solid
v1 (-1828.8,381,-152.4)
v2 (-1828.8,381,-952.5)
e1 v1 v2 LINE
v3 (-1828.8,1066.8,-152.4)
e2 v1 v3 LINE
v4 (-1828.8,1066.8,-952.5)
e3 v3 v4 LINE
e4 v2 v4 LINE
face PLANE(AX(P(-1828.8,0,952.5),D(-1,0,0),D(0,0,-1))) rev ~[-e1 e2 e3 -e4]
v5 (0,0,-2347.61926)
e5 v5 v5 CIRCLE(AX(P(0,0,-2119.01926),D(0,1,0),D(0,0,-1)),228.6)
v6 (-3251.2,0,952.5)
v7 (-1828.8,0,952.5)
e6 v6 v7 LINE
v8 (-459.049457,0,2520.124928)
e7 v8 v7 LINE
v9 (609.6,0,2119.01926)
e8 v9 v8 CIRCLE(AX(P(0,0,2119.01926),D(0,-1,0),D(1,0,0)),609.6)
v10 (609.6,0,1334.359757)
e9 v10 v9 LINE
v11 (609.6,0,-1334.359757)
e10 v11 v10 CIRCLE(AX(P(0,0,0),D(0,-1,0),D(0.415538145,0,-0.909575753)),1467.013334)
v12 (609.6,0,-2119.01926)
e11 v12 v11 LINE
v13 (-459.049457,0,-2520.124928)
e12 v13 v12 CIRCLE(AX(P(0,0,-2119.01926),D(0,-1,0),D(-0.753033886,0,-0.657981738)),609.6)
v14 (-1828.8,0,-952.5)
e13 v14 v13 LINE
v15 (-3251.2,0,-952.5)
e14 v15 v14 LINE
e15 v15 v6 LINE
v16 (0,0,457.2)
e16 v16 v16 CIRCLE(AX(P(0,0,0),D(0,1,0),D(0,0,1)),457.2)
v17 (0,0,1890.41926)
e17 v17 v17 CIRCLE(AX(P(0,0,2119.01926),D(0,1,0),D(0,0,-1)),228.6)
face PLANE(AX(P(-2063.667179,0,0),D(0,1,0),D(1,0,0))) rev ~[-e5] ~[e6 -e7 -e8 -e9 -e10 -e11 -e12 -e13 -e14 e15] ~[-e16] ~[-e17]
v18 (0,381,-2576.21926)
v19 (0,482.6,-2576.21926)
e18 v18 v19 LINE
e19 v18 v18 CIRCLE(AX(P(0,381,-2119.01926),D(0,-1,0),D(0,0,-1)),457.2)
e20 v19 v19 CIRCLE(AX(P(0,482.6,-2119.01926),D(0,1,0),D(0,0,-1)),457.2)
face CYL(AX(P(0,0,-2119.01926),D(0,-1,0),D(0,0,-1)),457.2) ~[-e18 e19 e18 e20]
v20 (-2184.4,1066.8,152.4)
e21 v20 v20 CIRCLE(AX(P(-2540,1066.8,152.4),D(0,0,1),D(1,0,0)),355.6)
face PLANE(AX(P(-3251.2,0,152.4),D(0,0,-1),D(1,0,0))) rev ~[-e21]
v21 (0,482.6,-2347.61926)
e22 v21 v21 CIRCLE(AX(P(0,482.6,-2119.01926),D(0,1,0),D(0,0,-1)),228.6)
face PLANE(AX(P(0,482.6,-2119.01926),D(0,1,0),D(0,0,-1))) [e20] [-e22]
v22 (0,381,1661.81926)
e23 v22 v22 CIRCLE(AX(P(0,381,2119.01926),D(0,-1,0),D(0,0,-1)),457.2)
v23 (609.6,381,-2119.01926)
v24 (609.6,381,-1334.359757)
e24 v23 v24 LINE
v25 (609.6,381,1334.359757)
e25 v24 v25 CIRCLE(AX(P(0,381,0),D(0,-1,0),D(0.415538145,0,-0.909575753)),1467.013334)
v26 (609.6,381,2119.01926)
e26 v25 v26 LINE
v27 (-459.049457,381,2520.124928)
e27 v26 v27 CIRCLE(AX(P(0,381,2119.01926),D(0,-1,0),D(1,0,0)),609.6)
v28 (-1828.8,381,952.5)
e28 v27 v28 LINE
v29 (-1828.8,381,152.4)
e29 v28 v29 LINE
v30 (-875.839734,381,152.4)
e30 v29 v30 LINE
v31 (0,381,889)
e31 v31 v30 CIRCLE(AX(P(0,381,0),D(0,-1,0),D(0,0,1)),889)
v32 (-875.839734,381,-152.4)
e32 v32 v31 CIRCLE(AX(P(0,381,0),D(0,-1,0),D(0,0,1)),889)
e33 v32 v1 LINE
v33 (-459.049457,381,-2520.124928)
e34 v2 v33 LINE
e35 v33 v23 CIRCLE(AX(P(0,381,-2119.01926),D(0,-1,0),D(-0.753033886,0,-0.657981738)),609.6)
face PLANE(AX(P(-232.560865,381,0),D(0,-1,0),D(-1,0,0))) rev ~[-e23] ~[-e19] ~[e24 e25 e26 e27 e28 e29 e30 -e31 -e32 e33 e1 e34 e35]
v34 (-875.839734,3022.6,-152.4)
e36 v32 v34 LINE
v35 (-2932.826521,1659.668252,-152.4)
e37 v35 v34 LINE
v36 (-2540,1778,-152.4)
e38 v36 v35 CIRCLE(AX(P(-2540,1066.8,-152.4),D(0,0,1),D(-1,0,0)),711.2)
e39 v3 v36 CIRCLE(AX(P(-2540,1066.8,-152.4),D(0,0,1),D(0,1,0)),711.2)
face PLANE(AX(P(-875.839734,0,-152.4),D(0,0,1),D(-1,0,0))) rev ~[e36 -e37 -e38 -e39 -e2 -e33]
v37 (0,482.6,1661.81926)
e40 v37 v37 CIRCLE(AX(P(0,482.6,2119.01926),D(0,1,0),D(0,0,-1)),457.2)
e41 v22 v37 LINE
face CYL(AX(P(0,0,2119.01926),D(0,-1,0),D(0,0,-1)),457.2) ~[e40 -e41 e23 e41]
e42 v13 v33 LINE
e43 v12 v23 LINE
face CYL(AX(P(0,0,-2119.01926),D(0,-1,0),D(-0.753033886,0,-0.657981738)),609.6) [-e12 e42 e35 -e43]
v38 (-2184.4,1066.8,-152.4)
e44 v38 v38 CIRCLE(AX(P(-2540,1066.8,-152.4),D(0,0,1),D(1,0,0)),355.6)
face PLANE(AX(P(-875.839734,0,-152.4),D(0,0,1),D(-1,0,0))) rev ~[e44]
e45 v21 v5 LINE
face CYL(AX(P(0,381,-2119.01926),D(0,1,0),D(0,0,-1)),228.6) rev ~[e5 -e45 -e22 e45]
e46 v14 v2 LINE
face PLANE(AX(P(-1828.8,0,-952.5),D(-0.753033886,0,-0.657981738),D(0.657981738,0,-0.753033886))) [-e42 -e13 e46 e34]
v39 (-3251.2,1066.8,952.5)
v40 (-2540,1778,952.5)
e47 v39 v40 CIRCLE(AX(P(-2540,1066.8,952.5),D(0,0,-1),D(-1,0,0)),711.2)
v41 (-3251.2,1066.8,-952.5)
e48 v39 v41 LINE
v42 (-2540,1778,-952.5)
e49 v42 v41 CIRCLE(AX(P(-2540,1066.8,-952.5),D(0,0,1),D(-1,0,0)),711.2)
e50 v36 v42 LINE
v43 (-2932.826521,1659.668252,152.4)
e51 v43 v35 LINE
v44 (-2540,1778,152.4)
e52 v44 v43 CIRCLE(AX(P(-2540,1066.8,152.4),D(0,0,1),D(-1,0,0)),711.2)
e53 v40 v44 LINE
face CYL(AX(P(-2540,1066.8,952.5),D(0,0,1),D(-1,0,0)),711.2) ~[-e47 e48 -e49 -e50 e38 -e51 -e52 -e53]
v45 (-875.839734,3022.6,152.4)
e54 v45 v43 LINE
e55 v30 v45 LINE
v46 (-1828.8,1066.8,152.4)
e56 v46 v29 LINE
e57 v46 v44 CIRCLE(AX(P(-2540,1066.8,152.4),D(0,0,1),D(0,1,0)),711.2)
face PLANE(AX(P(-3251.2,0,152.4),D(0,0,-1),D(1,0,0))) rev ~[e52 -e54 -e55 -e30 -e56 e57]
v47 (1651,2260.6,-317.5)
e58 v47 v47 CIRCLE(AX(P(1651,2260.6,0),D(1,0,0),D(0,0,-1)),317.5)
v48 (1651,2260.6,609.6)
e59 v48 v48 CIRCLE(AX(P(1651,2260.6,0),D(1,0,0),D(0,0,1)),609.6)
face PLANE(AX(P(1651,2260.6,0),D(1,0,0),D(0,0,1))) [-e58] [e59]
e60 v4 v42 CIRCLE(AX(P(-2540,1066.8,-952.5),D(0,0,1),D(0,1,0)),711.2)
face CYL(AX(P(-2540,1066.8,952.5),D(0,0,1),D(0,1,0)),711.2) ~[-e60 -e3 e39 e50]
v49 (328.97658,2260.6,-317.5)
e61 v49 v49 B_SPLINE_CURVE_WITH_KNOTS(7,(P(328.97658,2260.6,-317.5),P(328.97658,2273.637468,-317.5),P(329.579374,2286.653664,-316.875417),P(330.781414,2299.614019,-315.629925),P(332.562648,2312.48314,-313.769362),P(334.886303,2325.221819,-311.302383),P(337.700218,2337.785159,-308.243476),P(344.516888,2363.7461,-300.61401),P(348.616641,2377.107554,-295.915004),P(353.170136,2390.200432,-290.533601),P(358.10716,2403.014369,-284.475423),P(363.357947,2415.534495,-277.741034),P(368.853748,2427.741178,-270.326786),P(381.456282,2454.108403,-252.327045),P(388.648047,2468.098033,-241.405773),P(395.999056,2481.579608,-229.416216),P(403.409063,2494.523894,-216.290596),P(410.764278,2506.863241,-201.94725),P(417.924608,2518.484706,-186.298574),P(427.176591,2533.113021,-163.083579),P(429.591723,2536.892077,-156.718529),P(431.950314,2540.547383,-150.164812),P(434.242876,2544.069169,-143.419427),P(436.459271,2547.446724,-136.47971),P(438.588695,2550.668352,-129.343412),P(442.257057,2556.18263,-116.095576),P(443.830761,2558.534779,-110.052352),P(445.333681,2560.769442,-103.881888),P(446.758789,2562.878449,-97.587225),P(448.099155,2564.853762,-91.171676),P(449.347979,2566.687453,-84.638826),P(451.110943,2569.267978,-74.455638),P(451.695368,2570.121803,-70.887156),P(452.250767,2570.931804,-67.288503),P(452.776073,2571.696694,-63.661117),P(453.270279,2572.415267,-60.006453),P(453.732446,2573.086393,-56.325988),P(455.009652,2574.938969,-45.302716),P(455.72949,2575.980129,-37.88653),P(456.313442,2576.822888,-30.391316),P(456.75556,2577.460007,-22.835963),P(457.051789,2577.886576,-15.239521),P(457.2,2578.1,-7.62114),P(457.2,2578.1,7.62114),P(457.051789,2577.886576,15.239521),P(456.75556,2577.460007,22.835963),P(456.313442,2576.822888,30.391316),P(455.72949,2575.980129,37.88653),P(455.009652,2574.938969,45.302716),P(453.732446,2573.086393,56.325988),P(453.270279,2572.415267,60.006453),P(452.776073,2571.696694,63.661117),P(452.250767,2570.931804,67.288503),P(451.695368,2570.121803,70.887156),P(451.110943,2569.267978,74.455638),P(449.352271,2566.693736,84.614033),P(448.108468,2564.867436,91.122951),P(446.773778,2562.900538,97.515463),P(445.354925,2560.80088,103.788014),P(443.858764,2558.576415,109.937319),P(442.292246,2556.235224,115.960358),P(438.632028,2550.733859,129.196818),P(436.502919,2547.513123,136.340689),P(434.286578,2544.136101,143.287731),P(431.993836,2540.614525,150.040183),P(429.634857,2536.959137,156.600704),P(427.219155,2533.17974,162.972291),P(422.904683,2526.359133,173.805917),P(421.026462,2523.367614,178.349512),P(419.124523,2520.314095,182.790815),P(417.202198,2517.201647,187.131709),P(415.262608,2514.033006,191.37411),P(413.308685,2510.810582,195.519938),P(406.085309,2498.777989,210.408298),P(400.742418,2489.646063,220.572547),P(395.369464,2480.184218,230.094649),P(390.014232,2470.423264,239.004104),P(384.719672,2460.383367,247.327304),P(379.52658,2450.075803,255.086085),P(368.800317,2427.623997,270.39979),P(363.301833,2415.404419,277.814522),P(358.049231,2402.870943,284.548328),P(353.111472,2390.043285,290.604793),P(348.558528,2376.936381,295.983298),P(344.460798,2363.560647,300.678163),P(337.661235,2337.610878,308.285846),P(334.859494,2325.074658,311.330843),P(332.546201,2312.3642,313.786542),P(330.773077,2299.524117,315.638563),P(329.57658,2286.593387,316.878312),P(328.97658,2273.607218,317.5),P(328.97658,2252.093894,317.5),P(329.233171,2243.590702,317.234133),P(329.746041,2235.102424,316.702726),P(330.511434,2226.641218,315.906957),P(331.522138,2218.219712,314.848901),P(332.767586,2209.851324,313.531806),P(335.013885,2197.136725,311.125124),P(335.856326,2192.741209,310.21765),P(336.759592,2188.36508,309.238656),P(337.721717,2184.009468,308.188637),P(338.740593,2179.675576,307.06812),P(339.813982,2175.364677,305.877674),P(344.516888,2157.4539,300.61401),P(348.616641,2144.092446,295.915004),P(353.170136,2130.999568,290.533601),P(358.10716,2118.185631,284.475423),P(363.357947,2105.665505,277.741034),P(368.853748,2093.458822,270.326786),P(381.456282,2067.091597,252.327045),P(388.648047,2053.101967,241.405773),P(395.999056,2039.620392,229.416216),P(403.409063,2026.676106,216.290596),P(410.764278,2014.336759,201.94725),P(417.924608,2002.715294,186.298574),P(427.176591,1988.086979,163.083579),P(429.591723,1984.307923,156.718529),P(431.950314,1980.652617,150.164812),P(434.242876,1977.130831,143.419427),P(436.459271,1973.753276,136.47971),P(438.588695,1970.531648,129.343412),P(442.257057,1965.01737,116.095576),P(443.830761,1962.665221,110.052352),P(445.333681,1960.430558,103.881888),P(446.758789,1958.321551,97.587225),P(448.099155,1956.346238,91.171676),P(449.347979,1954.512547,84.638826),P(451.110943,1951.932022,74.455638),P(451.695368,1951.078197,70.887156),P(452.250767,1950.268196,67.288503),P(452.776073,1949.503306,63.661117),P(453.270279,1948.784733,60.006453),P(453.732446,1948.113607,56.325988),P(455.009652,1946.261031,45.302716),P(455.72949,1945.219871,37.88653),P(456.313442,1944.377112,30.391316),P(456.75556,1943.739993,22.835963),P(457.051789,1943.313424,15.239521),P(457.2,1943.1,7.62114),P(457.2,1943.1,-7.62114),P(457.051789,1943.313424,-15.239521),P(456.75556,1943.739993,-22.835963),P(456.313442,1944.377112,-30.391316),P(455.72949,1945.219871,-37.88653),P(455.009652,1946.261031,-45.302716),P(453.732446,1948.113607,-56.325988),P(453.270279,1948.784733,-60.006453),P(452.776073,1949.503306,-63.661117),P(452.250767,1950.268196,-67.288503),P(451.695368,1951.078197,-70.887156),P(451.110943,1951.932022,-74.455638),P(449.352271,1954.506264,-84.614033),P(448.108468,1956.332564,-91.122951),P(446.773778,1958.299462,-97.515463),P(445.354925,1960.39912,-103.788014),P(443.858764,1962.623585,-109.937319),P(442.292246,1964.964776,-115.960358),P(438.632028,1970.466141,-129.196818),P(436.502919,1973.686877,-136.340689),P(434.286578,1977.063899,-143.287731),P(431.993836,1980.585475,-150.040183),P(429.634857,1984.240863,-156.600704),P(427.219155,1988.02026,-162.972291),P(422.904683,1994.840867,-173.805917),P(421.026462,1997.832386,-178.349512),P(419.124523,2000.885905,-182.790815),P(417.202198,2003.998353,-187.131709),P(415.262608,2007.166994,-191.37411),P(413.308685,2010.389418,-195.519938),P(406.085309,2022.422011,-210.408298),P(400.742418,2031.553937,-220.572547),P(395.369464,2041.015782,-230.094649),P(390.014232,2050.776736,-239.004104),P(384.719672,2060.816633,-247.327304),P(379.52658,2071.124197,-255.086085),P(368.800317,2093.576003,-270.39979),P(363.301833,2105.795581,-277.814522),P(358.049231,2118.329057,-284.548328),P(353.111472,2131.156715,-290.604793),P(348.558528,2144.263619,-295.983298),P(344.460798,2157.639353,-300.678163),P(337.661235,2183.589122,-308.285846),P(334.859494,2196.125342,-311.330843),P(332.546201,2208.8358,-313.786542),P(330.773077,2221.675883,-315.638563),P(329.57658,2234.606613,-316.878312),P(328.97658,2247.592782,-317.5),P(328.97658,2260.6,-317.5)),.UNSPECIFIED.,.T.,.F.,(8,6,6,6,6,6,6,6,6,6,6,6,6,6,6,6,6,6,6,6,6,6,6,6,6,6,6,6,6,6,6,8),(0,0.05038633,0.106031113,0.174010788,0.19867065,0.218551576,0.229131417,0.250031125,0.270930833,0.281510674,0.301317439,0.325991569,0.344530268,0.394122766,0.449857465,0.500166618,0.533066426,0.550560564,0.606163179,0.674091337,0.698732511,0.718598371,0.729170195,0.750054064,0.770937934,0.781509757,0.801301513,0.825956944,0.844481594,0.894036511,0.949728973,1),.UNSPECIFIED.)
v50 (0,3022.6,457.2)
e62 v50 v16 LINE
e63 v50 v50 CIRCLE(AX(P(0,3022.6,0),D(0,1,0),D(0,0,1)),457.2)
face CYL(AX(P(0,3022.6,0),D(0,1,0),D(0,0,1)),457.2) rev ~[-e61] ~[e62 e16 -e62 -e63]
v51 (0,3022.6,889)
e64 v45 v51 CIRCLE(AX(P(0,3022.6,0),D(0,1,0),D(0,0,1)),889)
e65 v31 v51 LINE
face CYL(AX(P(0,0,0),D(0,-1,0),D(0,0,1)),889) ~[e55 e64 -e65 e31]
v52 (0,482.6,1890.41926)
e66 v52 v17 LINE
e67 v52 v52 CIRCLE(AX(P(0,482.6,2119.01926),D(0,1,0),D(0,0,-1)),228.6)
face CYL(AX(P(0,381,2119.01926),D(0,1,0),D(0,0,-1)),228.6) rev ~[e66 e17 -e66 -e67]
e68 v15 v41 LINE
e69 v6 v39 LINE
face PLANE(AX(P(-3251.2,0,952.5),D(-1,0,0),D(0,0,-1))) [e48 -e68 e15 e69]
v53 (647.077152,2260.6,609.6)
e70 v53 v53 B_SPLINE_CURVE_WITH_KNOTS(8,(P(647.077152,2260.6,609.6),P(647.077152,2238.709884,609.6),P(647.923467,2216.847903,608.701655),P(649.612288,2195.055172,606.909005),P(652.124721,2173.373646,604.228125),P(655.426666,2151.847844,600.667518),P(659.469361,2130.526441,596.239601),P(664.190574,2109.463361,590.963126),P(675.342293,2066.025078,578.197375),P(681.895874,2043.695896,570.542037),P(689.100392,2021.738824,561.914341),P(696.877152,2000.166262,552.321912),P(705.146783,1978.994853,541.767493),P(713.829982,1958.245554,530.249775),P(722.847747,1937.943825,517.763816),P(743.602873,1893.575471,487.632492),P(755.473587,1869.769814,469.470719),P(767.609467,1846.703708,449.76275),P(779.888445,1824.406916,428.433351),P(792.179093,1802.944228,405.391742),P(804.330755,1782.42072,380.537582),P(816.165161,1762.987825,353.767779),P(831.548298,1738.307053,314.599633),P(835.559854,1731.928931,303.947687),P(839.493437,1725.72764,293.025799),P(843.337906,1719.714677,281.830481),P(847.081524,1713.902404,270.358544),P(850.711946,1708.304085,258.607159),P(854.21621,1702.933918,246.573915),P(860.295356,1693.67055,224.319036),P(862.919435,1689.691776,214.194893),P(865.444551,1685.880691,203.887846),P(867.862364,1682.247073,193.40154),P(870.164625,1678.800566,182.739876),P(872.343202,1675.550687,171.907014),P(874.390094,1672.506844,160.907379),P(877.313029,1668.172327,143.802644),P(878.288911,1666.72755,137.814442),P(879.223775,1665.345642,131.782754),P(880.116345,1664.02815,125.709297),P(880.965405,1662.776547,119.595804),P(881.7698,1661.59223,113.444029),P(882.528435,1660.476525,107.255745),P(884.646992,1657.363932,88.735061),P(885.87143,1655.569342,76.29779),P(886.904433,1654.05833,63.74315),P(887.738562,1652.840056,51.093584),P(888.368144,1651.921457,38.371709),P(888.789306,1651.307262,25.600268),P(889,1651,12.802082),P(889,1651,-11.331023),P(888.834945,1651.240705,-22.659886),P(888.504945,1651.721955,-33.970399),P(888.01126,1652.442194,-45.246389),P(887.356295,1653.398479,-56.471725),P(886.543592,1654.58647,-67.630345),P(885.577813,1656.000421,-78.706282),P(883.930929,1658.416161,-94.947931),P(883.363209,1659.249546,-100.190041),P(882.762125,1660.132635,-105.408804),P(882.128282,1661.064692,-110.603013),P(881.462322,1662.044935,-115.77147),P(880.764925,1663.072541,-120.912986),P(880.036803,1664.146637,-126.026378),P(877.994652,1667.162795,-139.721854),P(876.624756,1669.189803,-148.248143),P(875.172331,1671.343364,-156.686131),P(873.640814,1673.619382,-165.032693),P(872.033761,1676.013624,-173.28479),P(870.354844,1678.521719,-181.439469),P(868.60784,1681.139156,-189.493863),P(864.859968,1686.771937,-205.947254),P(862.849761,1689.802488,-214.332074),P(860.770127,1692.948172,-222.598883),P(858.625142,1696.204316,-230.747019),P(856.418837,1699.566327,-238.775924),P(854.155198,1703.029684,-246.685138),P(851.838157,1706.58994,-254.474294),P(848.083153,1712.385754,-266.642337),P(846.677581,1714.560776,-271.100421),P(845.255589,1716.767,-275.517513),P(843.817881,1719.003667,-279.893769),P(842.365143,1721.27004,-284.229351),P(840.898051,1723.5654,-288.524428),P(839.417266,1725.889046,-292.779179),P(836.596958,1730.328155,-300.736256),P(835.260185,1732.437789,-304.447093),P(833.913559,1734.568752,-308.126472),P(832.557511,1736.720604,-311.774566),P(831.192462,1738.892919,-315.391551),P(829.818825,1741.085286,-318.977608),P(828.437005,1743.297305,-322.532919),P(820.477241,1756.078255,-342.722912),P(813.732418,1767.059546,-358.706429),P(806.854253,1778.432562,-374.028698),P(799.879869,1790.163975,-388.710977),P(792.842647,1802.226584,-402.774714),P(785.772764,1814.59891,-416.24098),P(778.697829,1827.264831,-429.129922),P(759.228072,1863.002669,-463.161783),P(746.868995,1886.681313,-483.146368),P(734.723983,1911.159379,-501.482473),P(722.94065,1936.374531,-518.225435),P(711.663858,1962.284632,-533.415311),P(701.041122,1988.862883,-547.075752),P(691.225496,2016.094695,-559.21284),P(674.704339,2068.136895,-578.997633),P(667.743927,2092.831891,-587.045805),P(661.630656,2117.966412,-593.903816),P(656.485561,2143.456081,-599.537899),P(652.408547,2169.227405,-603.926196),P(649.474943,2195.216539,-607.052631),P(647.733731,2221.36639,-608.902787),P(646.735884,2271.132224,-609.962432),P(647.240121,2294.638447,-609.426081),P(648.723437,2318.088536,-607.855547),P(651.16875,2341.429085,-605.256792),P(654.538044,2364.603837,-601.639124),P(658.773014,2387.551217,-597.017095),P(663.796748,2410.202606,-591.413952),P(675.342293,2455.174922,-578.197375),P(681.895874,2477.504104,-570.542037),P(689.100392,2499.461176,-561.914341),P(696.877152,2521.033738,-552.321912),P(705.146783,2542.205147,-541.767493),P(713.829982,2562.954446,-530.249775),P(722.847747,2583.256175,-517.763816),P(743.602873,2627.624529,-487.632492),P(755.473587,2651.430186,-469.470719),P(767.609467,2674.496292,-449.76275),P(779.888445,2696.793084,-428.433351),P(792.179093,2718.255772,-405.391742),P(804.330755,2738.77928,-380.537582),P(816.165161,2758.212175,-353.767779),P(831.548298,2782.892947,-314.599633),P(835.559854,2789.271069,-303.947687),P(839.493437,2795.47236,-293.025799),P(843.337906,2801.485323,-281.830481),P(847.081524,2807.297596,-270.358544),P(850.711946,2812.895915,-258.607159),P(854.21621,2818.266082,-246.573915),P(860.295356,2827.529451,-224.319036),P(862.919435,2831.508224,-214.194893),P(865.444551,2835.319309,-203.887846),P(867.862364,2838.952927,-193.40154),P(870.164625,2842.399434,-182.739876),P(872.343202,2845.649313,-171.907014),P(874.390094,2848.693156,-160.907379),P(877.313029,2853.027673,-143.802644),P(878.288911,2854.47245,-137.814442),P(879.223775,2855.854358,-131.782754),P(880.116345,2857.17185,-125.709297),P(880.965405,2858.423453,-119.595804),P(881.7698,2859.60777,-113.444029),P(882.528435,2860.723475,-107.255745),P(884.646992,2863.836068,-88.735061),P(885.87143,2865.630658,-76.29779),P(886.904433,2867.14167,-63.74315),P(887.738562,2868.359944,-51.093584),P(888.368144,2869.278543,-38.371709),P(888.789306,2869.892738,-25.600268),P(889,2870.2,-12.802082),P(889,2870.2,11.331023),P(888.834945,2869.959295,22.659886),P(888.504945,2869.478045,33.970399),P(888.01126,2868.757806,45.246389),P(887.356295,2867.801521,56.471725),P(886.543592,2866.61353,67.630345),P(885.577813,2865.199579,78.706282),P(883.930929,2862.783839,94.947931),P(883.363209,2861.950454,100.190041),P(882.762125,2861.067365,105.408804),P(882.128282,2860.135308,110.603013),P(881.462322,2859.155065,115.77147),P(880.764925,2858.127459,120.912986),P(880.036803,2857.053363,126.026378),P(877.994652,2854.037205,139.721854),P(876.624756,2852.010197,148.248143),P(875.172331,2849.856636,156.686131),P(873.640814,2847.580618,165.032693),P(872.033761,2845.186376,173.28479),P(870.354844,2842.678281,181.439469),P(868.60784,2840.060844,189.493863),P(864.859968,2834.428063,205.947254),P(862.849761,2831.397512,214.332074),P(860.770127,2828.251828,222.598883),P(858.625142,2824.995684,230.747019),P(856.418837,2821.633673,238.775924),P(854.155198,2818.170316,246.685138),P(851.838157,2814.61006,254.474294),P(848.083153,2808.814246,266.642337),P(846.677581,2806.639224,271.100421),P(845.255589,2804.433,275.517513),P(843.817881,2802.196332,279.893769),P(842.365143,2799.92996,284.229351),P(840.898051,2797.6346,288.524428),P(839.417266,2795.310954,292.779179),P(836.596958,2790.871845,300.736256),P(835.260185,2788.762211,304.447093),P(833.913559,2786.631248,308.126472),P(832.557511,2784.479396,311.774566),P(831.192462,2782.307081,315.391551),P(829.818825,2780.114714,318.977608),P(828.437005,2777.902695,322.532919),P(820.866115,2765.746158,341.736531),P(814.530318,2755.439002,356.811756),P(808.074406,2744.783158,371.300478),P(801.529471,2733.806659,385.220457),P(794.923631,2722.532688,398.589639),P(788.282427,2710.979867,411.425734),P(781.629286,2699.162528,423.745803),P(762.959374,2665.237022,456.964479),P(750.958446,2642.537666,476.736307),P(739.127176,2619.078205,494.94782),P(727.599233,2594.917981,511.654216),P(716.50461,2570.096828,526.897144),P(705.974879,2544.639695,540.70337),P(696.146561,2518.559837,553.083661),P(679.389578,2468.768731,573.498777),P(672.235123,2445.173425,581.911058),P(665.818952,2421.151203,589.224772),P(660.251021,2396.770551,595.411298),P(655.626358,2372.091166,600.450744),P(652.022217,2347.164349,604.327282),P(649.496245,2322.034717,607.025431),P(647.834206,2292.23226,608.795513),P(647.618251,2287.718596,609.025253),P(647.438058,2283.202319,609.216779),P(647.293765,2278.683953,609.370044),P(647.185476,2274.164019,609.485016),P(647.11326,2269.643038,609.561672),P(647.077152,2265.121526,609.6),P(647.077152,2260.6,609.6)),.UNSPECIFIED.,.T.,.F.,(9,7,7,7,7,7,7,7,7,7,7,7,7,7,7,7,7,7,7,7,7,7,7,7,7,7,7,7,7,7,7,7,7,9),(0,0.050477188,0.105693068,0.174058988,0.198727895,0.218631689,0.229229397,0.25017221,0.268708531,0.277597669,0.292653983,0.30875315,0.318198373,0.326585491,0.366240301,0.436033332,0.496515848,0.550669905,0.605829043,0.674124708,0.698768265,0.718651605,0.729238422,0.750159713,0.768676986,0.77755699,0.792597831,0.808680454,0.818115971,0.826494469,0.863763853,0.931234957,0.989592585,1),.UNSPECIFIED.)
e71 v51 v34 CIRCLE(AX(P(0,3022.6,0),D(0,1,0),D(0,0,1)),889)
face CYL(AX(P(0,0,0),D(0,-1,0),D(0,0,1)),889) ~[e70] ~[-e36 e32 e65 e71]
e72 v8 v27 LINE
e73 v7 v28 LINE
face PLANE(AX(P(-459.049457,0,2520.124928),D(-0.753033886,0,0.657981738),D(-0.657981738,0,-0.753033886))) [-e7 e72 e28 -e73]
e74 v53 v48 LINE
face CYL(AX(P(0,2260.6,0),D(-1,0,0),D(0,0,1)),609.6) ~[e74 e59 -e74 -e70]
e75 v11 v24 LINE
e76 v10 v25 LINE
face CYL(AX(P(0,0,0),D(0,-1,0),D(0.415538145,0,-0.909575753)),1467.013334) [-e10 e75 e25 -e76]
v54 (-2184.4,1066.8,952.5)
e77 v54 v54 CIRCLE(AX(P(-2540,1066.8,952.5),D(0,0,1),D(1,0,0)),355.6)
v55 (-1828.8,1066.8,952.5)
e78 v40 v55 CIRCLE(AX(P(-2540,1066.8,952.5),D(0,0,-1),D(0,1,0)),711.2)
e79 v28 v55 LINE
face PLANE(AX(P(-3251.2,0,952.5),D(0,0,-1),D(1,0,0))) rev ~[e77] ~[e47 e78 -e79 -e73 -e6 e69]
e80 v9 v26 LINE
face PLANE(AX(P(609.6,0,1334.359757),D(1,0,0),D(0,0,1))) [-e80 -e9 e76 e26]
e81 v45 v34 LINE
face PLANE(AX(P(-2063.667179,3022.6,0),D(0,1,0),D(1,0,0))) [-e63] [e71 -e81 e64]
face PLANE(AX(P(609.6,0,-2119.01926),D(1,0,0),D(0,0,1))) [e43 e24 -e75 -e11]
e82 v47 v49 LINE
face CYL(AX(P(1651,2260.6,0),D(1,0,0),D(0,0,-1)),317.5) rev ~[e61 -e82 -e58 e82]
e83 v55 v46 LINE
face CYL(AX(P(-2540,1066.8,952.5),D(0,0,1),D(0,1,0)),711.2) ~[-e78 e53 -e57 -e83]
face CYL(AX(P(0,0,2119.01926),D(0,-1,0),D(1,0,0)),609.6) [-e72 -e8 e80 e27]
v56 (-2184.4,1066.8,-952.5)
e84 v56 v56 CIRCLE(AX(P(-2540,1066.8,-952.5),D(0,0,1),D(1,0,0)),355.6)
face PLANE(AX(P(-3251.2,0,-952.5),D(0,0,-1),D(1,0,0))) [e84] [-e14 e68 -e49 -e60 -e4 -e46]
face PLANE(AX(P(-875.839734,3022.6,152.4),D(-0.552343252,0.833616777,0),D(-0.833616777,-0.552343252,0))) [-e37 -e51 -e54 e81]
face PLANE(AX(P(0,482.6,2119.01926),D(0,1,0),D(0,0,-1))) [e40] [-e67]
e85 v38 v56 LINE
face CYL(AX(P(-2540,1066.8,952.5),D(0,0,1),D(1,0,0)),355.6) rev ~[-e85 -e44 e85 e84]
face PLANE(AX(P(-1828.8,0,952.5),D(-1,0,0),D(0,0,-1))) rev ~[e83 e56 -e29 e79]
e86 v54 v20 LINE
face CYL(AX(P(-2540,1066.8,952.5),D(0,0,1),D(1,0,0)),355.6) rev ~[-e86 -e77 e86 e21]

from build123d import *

# Parameters (mm, degrees)
BOSS_EXTRUDE1_DEPTH  = 381
SKETCH2_R            = 889
BOSS_EXTRUDE2_DEPTH  = 3022.6
SKETCH4_R            = 457.2
SKETCH4_R_2          = 228.6
BOSS_EXTRUDE3_DEPTH  = 482.6
CUT_EXTRUDE2_REACH   = 4217.201
SKETCH5_R            = 228.6
SKETCH6_R            = 609.6
BOSS_EXTRUDE4_DEPTH  = 1651
SKETCH7_R            = 317.5
CUT_EXTRUDE3_DEPTH   = 1651
SKETCH8_R            = 457.2
CUT_EXTRUDE4_DEPTH   = 3022.6
SKETCH10_W           = 1422.4
SKETCH10_H           = 1905
BOSS_EXTRUDE5_DEPTH  = 1778
CUT_EXTRUDE5_REACH   = 5768.893
CUT_EXTRUDE6_REACH   = 5768.893
SKETCH12_R           = 355.6
BOSS_EXTRUDE10_START = -3022.6
BOSS_EXTRUDE10_DEPTH = 3022.6
CUT_EXTRUDE7_REACH   = 5294.134


with BuildPart() as part:
    # Sketch1 → Boss-Extrude1 (new body)
    with BuildSketch(Plane(origin=(0, 0, 0), x_dir=(1, 0, 0), z_dir=(0, 1, 0))):
        with BuildLine():
            Line((609.6, 2119.019260313), (609.6, 1334.359757456))
            ThreePointArc((609.6, 1334.359757456), (1467.013334063, 0), (609.6, -1334.359757456))
            Line((609.6, -1334.359757456), (609.6, -2119.019260313))
            ThreePointArc((609.6, -2119.019260313), (214.2143917, -2689.741920095), (-459.049456656, -2520.124927618))
            Line((-459.049456656, -2520.124927618), (-1828.8, -952.5))
            Line((-1828.8, -952.5), (-1828.8, 952.5))
            Line((-1828.8, 952.5), (-459.049456656, 2520.124927618))
            ThreePointArc((-459.049456656, 2520.124927618), (214.2143917, 2689.741920095), (609.6, 2119.019260313))
        make_face()
    extrude(amount=BOSS_EXTRUDE1_DEPTH)

    # Sketch2 → Boss-Extrude2 (add)
    with BuildSketch(Plane(origin=(0, 0, 0), x_dir=(1, 0, 0), z_dir=(0, 1, 0))):
        with Locations(Location((0, 0, 0), (0, 0, 270))):
            Circle(SKETCH2_R)
    extrude(amount=BOSS_EXTRUDE2_DEPTH)

    # Sketch4 → Boss-Extrude3 (add)
    # profile 1 of 2: a face of its own
    with BuildSketch(Plane(origin=(0, 0, 0), x_dir=(1, 0, 0), z_dir=(0, 1, 0))):
        with Locations(Location((0, -2119.019260313, 0), (0, 0, 90))):
            Circle(SKETCH4_R)
        with Locations(Location((0, -2119.019260313, 0), (0, 0, 90))):
            Circle(SKETCH4_R_2, mode=Mode.SUBTRACT)
    # profile 2 of 2: a face of its own
    with BuildSketch(Plane(origin=(0, 0, 0), x_dir=(1, 0, 0), z_dir=(0, 1, 0))):
        with Locations(Location((0, 2119.019260313, 0), (0, 0, 90))):
            Circle(SKETCH4_R)
        with Locations(Location((0, 2119.019260313, 0), (0, 0, 90))):
            Circle(SKETCH4_R_2, mode=Mode.SUBTRACT)
    extrude(amount=BOSS_EXTRUDE3_DEPTH)

    # Sketch5 → Cut-Extrude2 (cut, up to next)
    with BuildSketch(Plane(origin=(0, 381, 0), x_dir=(1, 0, 0), z_dir=(0, 1, 0)), mode=Mode.PRIVATE) as cut_extrude2_sk1:
        with Locations(Location((0, 2119.019260313, 0), (0, 0, 90))):
            Circle(SKETCH5_R)
    cut_extrude2_tool1 = extrude(cut_extrude2_sk1.sketch, amount=-CUT_EXTRUDE2_REACH, mode=Mode.PRIVATE) & part.part
    # Sketch5 → Cut-Extrude2 (cut, up to next)
    with BuildSketch(Plane(origin=(0, 381, 0), x_dir=(1, 0, 0), z_dir=(0, 1, 0)), mode=Mode.PRIVATE) as cut_extrude2_sk2:
        with Locations(Location((0, -2119.019260313, 0), (0, 0, 90))):
            Circle(SKETCH5_R)
    cut_extrude2_tool2 = extrude(cut_extrude2_sk2.sketch, amount=-CUT_EXTRUDE2_REACH, mode=Mode.PRIVATE) & part.part
    add(cut_extrude2_tool1.solids().sort_by_distance((0, 381, -2119.01926))[0], mode=Mode.SUBTRACT)
    add(cut_extrude2_tool2.solids().sort_by_distance((0, 381, 2119.01926))[0], mode=Mode.SUBTRACT)

    # Sketch6 → Boss-Extrude4 (add)
    with BuildSketch(Plane(origin=(0, 0, 0), x_dir=(0, 0, -1), z_dir=(1, 0, 0))):
        with Locations(Location((0, 2260.6, 0), (0, 0, 180))):
            Circle(SKETCH6_R)
    extrude(amount=BOSS_EXTRUDE4_DEPTH)

    # Sketch7 → Cut-Extrude3 (cut)
    with BuildSketch(Plane(origin=(1651, 0, 0), x_dir=(0, 0, -1), z_dir=(1, 0, 0))):
        with Locations((0, 2260.6)):
            Circle(SKETCH7_R)
    extrude(amount=-CUT_EXTRUDE3_DEPTH, mode=Mode.SUBTRACT)

    # Sketch8 → Cut-Extrude4 (cut)
    with BuildSketch(Plane(origin=(0, 3022.6, 0), x_dir=(1, 0, 0), z_dir=(0, 1, 0))):
        with Locations(Location((0, 0, 0), (0, 0, 270))):
            Circle(SKETCH8_R)
    extrude(amount=-CUT_EXTRUDE4_DEPTH, mode=Mode.SUBTRACT)

    # Sketch10 → Boss-Extrude5 (add)
    with BuildSketch(Plane(origin=(0, 0, 0), x_dir=(1, 0, 0), z_dir=(0, 1, 0))):
        with Locations((-2540, 0)):
            Rectangle(SKETCH10_W, SKETCH10_H)
    extrude(amount=BOSS_EXTRUDE5_DEPTH)

    # Sketch11 → Cut-Extrude5 (cut, up to next)
    with BuildSketch(Plane.XY.offset(952.5), mode=Mode.PRIVATE) as cut_extrude5_sk1:
        with BuildLine():
            Line((-3251.2, 1778), (-3251.2, 1066.8))
            ThreePointArc((-3251.2, 1066.8), (-3042.89434278, 1569.69434278), (-2540, 1778))
            Line((-2540, 1778), (-3251.2, 1778))
        make_face()
    cut_extrude5_tool1 = extrude(cut_extrude5_sk1.sketch, amount=-CUT_EXTRUDE5_REACH, mode=Mode.PRIVATE) & part.part
    # Sketch11 → Cut-Extrude5 (cut, up to next)
    with BuildSketch(Plane.XY.offset(952.5), mode=Mode.PRIVATE) as cut_extrude5_sk2:
        with BuildLine():
            Line((-1828.8, 1778), (-2540, 1778))
            ThreePointArc((-2540, 1778), (-2037.10565722, 1569.69434278), (-1828.8, 1066.8))
            Line((-1828.8, 1066.8), (-1828.8, 1778))
        make_face()
    cut_extrude5_tool2 = extrude(cut_extrude5_sk2.sketch, amount=-CUT_EXTRUDE5_REACH, mode=Mode.PRIVATE) & part.part
    add(cut_extrude5_tool1.solids().sort_by_distance((-3092.340722, 1619.140722, 952.5))[0], mode=Mode.SUBTRACT)
    add(cut_extrude5_tool2.solids().sort_by_distance((-1987.659278, 1619.140722, 952.5))[0], mode=Mode.SUBTRACT)

    # Sketch12 → Cut-Extrude6 (cut, up to next)
    with BuildSketch(Plane.XY.offset(952.5), mode=Mode.PRIVATE) as cut_extrude6_sk1:
        with Locations((-2540, 1066.8)):
            Circle(SKETCH12_R)
    cut_extrude6_tool1 = extrude(cut_extrude6_sk1.sketch, amount=-CUT_EXTRUDE6_REACH, mode=Mode.PRIVATE) & part.part
    add(cut_extrude6_tool1.solids().sort_by_distance((-2540, 1066.8, 952.5))[0], mode=Mode.SUBTRACT)

    # Sketch15 → Boss-Extrude10 (add)
    with BuildSketch(Plane(origin=(0, 3022.6, 0), x_dir=(1, 0, 0), z_dir=(0, 1, 0)).offset(BOSS_EXTRUDE10_START)):
        with BuildLine():
            Line((-875.839734198, 152.4), (-3251.2, 152.4))
            Line((-3251.2, 152.4), (-3251.2, -152.4))
            Line((-3251.2, -152.4), (-875.839734198, -152.4))
            ThreePointArc((-875.839734198, -152.4), (-889, 0), (-875.839734198, 152.4))
        make_face()
    extrude(amount=BOSS_EXTRUDE10_DEPTH)

    # Sketch16 → Cut-Extrude7 (cut, up to next)
    with BuildSketch(Plane.XY.offset(152.4), mode=Mode.PRIVATE) as cut_extrude7_sk1:
        with BuildLine():
            Line((-875.839734198, 3022.6), (-2932.826520859, 1659.668252236))
            ThreePointArc((-2932.826520859, 1659.668252236), (-3166.571488992, 1403.272300765), (-3251.2, 1066.8))
            Line((-3251.2, 1066.8), (-3251.2, 3022.6))
            Line((-3251.2, 3022.6), (-875.839734198, 3022.6))
        make_face()
    cut_extrude7_tool1 = extrude(cut_extrude7_sk1.sketch, amount=-CUT_EXTRUDE7_REACH, mode=Mode.PRIVATE) & part.part
    add(cut_extrude7_tool1.solids().sort_by_distance((-2467.984815, 2485.152137, 152.4))[0], mode=Mode.SUBTRACT)


solid = part.part
